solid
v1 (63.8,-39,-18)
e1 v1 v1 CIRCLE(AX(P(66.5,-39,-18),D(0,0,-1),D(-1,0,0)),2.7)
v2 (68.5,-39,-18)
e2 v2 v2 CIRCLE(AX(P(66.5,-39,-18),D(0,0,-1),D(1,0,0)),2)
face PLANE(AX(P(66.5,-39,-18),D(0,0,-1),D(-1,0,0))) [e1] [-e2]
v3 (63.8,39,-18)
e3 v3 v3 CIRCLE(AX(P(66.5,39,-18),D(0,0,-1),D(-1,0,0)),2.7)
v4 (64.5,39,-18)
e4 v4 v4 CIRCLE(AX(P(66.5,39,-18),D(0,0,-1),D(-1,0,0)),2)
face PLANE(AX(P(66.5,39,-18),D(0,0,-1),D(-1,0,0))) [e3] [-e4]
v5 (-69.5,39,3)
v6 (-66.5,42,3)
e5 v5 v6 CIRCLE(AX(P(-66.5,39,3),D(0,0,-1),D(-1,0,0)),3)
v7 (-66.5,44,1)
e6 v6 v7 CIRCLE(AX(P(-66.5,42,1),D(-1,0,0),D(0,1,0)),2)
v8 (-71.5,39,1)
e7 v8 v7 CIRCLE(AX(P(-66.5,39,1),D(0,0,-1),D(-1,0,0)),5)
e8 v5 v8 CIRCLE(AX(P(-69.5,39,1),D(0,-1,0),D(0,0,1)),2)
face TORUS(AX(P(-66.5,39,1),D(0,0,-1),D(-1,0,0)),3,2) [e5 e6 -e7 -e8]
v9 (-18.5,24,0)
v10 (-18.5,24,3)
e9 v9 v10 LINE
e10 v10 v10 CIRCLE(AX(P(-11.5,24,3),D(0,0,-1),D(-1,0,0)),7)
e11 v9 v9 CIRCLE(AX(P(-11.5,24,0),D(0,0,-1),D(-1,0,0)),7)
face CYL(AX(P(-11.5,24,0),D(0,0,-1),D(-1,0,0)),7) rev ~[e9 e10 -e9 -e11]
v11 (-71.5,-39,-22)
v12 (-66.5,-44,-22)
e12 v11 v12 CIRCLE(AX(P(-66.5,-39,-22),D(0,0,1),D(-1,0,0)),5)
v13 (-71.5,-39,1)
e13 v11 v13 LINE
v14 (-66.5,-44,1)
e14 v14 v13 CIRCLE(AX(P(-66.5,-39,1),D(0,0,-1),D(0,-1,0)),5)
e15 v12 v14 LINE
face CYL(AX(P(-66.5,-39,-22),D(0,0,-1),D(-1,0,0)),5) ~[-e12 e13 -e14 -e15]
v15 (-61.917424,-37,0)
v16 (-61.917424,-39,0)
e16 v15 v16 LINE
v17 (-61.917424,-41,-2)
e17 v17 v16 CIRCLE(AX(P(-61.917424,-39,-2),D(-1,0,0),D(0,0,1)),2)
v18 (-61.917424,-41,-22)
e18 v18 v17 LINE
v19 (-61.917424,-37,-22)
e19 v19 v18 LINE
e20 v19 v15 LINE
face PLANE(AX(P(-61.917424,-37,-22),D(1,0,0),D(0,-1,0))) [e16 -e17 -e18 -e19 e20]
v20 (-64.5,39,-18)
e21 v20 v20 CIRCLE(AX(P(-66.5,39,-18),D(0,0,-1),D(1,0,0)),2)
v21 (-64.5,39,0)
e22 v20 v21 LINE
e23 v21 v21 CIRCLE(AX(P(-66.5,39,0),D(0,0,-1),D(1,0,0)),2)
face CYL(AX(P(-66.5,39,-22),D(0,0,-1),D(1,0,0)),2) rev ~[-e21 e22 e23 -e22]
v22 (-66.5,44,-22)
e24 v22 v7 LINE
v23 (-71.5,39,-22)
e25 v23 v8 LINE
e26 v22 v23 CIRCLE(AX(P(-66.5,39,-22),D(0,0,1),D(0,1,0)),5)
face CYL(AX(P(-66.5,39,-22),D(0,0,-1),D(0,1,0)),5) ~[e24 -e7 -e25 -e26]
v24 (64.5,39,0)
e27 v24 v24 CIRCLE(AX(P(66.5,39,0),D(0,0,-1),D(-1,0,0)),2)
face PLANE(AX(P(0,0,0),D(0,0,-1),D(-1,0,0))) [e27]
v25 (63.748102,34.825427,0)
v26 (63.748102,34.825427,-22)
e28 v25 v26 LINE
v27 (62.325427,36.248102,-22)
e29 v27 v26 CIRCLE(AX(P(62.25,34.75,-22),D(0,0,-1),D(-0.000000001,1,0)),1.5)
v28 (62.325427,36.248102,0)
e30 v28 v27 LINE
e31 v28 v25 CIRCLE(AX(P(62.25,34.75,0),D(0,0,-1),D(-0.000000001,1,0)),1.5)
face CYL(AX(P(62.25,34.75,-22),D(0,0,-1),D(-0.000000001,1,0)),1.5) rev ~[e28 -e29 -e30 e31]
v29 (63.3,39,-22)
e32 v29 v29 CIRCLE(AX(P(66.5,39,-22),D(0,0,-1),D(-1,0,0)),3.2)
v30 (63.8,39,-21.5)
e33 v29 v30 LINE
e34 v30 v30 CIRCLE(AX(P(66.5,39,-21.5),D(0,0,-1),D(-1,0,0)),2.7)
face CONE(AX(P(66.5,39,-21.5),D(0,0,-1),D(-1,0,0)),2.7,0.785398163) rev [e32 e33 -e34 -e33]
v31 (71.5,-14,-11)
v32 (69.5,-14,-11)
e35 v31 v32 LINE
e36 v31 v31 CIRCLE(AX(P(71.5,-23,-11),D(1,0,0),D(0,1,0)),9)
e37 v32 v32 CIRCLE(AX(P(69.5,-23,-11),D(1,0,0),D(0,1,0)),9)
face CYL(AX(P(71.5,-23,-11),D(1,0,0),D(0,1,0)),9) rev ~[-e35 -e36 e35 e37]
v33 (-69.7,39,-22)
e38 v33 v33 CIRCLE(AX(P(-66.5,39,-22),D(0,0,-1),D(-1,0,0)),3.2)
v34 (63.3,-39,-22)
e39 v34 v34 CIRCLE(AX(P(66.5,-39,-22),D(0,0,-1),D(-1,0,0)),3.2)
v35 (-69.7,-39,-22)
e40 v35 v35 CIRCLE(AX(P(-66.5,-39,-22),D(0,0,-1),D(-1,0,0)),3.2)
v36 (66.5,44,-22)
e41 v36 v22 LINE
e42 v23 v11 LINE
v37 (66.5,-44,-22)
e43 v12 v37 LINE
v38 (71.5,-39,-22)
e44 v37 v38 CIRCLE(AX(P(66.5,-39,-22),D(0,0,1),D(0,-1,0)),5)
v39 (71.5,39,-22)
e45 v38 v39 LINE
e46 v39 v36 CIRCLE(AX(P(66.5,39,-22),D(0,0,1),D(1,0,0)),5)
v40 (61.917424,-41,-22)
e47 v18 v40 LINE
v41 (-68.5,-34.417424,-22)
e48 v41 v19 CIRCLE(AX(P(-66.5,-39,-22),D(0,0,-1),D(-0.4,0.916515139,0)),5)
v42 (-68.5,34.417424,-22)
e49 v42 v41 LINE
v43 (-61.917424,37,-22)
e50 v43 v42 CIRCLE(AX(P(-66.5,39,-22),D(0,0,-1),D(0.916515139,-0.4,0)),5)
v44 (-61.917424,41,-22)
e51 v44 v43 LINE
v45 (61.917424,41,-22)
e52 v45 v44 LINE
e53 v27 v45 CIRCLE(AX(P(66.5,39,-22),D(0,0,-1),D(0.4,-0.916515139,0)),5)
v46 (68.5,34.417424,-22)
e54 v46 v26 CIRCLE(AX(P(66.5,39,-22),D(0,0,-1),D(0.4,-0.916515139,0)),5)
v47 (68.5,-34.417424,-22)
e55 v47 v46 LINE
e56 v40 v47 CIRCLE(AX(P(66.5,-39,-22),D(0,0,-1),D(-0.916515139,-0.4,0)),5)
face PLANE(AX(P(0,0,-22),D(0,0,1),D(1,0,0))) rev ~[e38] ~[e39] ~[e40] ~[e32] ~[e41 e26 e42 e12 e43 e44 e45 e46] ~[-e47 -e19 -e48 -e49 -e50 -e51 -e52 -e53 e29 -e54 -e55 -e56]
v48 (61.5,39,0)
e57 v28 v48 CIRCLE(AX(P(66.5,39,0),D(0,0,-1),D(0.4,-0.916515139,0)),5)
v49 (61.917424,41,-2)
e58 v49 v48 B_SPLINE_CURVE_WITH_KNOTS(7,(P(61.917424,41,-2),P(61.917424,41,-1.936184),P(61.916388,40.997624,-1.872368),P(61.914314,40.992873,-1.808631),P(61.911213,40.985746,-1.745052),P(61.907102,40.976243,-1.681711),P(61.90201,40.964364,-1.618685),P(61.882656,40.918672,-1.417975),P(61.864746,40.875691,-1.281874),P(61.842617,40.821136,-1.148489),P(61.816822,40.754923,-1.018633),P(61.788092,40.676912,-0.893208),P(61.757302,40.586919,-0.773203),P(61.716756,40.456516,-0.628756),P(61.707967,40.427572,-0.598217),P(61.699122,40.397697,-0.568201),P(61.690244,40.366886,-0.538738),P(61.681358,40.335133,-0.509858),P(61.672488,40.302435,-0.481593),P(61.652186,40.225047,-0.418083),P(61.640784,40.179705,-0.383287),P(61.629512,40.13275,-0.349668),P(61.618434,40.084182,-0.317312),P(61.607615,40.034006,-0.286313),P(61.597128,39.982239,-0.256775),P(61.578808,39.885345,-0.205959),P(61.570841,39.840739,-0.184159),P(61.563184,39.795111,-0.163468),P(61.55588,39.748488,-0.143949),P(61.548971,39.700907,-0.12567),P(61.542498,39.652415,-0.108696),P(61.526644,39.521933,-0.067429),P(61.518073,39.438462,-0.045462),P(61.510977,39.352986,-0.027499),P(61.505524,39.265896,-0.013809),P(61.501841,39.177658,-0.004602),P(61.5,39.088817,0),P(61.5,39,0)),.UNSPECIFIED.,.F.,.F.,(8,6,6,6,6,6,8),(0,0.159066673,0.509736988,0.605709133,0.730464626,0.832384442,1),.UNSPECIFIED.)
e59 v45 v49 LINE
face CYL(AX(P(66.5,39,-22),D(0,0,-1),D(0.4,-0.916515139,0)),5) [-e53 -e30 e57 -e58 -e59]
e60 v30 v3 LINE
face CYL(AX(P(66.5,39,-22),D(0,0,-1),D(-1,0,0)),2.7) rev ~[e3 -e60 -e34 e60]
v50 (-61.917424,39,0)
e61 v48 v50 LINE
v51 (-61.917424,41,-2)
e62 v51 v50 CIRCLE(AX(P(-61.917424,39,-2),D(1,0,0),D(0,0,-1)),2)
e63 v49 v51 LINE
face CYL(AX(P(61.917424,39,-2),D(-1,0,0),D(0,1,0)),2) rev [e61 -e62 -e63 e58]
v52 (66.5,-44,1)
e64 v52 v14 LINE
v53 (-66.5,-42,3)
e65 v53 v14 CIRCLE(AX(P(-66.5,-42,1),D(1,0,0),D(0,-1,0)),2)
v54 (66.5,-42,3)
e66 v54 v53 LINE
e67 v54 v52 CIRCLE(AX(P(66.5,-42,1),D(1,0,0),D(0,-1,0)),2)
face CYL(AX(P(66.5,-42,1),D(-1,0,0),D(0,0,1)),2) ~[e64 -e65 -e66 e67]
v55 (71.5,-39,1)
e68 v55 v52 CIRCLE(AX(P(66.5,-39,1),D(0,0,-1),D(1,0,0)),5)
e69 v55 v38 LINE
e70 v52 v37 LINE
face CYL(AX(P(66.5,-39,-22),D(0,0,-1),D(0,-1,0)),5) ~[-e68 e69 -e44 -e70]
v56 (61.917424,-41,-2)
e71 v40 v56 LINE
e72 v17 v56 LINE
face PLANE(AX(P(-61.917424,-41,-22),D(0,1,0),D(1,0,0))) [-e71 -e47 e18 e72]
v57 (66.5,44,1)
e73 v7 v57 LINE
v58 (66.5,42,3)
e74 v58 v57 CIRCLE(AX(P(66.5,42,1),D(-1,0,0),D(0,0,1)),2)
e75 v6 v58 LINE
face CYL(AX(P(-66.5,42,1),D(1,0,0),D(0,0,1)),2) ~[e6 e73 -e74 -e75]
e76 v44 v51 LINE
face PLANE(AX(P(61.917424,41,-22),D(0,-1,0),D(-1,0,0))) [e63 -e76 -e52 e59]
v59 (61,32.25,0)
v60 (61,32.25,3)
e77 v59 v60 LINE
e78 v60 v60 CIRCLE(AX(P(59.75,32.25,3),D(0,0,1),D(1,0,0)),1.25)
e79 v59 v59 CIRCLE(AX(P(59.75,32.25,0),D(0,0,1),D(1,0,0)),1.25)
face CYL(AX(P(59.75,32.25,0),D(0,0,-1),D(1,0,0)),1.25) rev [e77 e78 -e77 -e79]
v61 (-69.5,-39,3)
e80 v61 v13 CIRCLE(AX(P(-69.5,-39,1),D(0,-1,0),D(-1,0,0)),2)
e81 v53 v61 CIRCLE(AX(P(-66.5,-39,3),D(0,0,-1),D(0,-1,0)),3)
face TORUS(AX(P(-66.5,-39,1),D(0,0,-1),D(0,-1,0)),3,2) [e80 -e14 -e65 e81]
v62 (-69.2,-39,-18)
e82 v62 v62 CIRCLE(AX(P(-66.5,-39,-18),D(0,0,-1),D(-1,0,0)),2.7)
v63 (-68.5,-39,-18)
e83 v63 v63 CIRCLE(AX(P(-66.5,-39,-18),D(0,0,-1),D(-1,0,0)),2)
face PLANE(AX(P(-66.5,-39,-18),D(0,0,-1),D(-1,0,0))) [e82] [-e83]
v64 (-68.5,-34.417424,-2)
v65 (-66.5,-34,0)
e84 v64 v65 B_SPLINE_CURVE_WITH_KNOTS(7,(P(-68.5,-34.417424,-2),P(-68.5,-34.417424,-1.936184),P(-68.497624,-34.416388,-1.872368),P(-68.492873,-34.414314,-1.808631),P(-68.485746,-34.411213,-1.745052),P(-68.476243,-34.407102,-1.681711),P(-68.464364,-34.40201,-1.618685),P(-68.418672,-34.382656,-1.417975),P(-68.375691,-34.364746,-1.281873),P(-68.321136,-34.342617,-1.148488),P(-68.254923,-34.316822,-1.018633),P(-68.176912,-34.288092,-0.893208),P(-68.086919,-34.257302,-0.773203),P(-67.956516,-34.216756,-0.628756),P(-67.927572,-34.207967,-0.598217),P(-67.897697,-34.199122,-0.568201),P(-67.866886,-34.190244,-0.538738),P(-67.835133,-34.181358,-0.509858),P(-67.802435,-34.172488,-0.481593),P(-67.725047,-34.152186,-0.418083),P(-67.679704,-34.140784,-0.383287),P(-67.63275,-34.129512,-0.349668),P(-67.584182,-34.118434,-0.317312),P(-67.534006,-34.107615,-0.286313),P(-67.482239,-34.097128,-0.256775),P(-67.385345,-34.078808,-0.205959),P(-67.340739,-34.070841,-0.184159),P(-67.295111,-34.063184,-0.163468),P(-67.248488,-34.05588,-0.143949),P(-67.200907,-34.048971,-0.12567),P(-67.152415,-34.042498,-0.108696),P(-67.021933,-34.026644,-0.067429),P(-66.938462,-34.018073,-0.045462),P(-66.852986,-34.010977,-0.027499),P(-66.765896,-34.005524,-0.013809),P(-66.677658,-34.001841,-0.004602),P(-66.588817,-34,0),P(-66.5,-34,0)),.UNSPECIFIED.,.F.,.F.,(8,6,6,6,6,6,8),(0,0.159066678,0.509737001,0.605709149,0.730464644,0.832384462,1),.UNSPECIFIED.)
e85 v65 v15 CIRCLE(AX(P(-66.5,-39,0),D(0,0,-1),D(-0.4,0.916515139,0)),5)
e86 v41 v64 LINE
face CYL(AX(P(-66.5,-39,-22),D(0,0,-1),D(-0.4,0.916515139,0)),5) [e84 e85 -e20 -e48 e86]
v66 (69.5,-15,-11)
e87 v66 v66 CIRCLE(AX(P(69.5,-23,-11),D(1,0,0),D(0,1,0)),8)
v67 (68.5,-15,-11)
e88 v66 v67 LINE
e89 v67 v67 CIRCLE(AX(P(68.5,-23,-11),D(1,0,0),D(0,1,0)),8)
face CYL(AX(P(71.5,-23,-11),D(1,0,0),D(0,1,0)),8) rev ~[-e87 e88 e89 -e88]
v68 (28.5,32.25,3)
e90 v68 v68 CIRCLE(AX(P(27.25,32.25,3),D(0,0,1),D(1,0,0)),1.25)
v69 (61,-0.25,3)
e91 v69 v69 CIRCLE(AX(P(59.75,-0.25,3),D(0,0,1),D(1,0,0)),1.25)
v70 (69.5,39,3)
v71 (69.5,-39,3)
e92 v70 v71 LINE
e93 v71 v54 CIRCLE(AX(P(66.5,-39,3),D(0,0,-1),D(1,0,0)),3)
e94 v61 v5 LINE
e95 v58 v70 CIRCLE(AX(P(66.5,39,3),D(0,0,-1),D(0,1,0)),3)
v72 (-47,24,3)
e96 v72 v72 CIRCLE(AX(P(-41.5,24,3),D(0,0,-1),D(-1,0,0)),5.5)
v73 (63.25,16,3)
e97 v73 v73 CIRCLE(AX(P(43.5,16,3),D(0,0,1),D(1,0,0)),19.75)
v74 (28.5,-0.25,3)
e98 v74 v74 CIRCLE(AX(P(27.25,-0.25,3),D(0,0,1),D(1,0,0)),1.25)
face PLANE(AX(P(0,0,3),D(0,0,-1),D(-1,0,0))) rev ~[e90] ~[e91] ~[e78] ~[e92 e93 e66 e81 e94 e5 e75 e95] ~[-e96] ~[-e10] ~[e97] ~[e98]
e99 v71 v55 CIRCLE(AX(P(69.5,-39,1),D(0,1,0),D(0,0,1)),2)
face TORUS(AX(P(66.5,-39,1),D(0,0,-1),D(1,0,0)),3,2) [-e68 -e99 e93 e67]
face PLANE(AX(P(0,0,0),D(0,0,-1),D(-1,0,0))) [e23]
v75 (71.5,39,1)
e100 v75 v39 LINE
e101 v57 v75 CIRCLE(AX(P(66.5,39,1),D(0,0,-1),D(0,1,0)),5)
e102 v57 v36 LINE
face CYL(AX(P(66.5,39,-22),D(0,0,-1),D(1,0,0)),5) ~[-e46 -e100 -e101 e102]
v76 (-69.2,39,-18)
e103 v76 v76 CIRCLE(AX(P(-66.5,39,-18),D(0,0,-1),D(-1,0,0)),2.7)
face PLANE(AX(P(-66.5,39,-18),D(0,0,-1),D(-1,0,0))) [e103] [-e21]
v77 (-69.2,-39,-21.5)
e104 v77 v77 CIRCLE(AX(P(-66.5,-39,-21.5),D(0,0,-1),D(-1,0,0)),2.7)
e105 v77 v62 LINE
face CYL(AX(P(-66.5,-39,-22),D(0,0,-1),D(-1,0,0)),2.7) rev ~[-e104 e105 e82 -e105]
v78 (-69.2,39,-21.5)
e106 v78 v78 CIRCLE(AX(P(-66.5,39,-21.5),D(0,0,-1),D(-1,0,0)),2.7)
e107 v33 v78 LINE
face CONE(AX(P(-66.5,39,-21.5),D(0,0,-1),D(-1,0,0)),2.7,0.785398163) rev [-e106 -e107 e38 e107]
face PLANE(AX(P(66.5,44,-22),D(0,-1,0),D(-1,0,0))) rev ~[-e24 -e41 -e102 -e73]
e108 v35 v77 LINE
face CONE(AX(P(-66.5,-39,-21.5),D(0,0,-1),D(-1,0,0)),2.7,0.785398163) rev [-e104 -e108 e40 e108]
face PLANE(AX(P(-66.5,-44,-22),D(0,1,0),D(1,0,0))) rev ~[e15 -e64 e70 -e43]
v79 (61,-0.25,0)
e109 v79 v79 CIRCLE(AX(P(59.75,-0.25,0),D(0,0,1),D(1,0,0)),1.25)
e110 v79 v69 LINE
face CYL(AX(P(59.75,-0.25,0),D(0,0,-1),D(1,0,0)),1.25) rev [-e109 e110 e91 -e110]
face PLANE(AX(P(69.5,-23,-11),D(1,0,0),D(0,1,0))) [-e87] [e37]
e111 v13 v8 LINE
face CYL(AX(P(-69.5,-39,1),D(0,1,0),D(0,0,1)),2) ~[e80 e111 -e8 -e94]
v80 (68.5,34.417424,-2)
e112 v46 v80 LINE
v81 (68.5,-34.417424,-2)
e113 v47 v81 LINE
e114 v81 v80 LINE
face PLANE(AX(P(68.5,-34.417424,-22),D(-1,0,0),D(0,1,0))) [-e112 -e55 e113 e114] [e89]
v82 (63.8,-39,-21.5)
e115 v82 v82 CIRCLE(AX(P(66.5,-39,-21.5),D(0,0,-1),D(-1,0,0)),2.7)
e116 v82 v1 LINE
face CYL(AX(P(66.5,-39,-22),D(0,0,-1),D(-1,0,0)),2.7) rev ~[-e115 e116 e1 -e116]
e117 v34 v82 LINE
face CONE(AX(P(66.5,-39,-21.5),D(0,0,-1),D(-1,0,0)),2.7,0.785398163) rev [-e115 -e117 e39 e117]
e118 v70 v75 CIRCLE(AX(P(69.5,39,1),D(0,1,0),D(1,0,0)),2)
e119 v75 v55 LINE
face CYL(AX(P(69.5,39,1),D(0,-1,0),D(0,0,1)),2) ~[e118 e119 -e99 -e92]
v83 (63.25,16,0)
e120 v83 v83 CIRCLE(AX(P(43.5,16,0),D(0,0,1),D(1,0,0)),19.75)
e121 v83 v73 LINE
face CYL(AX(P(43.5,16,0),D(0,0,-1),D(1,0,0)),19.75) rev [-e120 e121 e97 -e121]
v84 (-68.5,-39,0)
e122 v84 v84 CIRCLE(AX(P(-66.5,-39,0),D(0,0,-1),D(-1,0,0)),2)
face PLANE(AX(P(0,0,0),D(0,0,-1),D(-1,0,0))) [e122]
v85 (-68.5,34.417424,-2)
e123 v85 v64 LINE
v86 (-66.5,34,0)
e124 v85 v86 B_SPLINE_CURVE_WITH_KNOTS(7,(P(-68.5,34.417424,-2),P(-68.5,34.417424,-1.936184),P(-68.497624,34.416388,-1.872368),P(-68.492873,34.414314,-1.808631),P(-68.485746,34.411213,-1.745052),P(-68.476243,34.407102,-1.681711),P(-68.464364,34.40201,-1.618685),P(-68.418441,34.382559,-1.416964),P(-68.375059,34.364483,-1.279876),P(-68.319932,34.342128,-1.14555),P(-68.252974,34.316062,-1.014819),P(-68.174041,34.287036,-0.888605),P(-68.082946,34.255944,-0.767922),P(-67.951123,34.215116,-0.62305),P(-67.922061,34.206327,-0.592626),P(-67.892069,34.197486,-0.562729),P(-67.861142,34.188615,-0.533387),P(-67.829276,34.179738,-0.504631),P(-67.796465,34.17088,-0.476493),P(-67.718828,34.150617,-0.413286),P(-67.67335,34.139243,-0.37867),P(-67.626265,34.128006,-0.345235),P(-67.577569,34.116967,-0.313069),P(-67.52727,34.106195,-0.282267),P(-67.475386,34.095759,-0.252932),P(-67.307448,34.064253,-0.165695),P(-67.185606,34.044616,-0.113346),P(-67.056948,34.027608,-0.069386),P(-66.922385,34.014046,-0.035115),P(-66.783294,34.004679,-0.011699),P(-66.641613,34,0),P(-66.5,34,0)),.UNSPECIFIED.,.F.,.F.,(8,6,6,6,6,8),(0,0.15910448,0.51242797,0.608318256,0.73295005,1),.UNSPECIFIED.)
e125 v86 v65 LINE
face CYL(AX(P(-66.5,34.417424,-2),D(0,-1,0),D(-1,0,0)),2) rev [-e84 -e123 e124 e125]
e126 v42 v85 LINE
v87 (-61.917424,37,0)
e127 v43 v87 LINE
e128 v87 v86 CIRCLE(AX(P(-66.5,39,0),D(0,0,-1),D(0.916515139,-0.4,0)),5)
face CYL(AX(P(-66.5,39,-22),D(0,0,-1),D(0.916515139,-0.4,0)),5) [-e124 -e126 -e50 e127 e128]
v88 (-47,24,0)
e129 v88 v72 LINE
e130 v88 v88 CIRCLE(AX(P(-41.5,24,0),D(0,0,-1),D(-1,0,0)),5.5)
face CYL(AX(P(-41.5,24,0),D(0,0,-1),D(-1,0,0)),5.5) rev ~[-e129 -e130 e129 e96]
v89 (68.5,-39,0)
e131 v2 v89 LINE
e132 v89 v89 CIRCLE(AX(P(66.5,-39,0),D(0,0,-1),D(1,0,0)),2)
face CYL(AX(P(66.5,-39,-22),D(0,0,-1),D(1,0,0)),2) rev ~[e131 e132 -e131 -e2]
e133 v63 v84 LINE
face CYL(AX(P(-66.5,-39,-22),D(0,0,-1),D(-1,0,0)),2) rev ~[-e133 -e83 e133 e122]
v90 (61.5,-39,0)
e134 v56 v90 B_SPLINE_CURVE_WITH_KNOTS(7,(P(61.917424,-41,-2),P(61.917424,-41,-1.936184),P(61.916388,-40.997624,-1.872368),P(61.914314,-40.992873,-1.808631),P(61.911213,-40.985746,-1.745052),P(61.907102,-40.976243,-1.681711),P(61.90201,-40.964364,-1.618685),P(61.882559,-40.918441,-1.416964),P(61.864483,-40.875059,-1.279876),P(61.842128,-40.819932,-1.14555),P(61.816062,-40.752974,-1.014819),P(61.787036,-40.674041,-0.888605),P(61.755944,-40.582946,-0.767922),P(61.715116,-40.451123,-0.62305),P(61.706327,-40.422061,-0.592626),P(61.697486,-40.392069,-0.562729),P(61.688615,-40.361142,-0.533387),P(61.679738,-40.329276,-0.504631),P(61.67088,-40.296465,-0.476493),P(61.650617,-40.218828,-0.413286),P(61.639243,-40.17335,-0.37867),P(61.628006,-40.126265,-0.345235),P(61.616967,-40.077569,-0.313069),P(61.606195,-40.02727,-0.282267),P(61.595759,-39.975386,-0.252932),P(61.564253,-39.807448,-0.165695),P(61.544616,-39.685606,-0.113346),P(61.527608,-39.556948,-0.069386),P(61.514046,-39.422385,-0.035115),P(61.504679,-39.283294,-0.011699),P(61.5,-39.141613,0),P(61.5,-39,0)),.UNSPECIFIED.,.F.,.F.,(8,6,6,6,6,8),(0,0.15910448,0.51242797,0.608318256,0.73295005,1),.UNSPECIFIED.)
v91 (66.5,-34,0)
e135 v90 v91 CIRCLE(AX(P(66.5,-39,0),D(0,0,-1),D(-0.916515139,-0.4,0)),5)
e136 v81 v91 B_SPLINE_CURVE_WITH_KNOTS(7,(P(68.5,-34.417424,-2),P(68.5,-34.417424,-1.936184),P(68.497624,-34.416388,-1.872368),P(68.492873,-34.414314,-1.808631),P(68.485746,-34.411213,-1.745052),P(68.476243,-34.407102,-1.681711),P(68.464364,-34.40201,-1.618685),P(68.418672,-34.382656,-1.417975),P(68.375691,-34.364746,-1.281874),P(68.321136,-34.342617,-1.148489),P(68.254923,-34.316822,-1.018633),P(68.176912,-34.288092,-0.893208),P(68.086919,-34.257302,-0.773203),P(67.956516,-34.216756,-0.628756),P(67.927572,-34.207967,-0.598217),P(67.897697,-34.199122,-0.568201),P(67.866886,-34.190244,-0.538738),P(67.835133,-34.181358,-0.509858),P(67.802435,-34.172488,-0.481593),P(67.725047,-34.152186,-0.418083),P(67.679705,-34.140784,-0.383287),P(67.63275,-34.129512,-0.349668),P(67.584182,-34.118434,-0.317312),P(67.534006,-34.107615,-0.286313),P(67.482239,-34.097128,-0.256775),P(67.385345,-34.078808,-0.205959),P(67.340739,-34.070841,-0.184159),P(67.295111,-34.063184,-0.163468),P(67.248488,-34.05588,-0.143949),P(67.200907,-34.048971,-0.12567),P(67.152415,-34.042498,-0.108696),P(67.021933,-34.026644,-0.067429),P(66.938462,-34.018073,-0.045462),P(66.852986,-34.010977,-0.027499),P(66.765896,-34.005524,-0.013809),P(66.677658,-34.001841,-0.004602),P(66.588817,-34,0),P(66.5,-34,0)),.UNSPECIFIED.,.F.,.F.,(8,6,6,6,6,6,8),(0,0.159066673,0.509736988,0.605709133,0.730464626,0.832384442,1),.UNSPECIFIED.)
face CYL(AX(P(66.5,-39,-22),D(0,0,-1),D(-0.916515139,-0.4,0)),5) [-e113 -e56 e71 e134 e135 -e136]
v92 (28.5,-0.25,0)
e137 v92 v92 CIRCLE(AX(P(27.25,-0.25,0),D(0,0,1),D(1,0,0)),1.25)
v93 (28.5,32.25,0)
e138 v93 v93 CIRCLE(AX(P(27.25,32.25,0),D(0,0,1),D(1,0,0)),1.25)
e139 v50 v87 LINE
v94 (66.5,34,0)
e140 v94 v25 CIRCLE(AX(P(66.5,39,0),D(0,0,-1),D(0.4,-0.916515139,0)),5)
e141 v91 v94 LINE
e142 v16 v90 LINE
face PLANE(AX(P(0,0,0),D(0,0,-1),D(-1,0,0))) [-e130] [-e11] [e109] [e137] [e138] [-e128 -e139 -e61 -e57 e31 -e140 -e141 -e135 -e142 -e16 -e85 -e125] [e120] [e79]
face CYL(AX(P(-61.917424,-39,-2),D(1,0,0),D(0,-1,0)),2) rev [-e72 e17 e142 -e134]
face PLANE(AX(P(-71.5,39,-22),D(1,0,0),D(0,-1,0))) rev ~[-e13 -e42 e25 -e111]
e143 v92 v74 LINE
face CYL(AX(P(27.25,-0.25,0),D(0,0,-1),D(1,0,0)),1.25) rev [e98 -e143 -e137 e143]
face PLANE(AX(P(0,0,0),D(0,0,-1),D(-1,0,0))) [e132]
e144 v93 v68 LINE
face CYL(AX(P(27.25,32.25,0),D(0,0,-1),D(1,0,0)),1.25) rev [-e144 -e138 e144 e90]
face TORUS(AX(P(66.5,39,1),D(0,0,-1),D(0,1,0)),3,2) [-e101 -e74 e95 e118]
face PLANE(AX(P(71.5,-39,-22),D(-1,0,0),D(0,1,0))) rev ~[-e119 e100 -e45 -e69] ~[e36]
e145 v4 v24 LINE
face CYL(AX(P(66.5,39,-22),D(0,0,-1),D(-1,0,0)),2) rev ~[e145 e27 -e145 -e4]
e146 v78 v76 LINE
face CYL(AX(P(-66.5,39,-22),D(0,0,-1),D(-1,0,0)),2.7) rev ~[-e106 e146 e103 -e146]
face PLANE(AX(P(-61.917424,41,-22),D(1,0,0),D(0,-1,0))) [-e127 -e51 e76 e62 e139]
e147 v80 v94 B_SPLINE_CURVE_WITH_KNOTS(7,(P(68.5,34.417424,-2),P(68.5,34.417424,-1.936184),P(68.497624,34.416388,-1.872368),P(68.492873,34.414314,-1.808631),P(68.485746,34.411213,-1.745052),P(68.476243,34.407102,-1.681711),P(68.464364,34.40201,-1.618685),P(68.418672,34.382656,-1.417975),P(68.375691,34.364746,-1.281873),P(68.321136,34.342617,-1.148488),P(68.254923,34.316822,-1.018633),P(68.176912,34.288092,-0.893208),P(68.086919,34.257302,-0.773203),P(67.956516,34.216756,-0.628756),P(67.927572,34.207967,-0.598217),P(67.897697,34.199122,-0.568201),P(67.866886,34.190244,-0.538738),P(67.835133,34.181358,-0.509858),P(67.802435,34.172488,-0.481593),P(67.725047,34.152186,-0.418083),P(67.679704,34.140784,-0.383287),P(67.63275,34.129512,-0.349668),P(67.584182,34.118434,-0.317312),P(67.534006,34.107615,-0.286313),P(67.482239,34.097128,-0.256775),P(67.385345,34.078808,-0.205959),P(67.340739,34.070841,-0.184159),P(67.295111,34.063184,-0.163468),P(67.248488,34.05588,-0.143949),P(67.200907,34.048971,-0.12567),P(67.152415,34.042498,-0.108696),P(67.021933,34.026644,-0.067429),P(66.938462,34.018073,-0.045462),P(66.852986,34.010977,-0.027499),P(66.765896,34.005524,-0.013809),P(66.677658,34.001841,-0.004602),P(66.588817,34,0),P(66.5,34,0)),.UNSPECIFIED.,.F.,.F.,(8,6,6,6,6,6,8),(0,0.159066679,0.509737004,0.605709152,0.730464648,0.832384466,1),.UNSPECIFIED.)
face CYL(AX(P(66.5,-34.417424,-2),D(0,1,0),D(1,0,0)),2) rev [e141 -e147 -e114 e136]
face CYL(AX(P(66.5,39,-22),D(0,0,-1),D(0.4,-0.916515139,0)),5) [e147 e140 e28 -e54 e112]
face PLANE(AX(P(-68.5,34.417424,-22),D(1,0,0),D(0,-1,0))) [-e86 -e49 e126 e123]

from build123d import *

# Parameters (mm, degrees)
SKETCH1_R           = 19.75
SKETCH1_R_2         = 1.25
BOSS_EXTRUDE1_DEPTH = 3
BOSS_EXTRUDE2_START = 22
SKETCH2_R           = 2
BOSS_EXTRUDE2_DEPTH = 22
SKETCH5_R           = 8
CUT_EXTRUDE1_DEPTH  = 3
SKETCH6_R           = 9
CUT_EXTRUDE2_DEPTH  = 2
FILLET2_R           = 2
SKETCH10_R          = 2.7
CUT_EXTRUDE4_DEPTH  = 4
CHAMFER1_SIZE       = 0.5
CUT_EXTRUDE5_DEPTH  = 22
SKETCH14_R          = 5.5
SKETCH14_R_2        = 7
CUT_EXTRUDE6_DEPTH  = 87.788536135


with BuildPart() as part:
    # Sketch1 → Boss-Extrude1 (new body)
    with BuildSketch(Plane.XY):
        with BuildLine():
            Line((-66.5, 44), (66.5, 44))
            ThreePointArc((66.5, 44), (70.035533906, 42.535533906), (71.5, 39))
            Line((71.5, 39), (71.5, -39))
            ThreePointArc((71.5, -39), (70.035533906, -42.535533906), (66.5, -44))
            Line((66.5, -44), (-66.5, -44))
            ThreePointArc((-66.5, -44), (-70.035533906, -42.535533906), (-71.5, -39))
            Line((-71.5, -39), (-71.5, 39))
            ThreePointArc((-71.5, 39), (-70.035533906, 42.535533906), (-66.5, 44))
        make_face()
        with Locations((43.5, 16)):
            Circle(SKETCH1_R, mode=Mode.SUBTRACT)
        with Locations((27.25, 32.25)):
            Circle(SKETCH1_R_2, mode=Mode.SUBTRACT)
        with Locations((59.75, 32.25)):
            Circle(SKETCH1_R_2, mode=Mode.SUBTRACT)
        with Locations((59.75, -0.25)):
            Circle(SKETCH1_R_2, mode=Mode.SUBTRACT)
        with Locations((27.25, -0.25)):
            Circle(SKETCH1_R_2, mode=Mode.SUBTRACT)
    extrude(amount=BOSS_EXTRUDE1_DEPTH)

    # Sketch2 → Boss-Extrude2 (add)
    with BuildSketch(Plane(origin=(0, 0, 0), x_dir=(-1, 0, 0), z_dir=(0, 0, -1)).offset(BOSS_EXTRUDE2_START)):
        with BuildLine():
            Line((-66.5, 44), (66.5, 44))
            ThreePointArc((66.5, 44), (70.035533906, 42.535533906), (71.5, 39))
            Line((71.5, 39), (71.5, -39))
            ThreePointArc((71.5, -39), (70.035533906, -42.535533906), (66.5, -44))
            Line((66.5, -44), (-66.5, -44))
            ThreePointArc((-66.5, -44), (-70.035533906, -42.535533906), (-71.5, -39))
            Line((-71.5, -39), (-71.5, 39))
            ThreePointArc((-71.5, 39), (-70.035533906, 42.535533906), (-66.5, 44))
        make_face()
        with Locations((-66.5, 39)):
            Circle(SKETCH2_R, mode=Mode.SUBTRACT)
        with Locations(Location((66.5, 39, 0), (0, 0, 180))):
            Circle(SKETCH2_R, mode=Mode.SUBTRACT)
        with Locations((66.5, -39)):
            Circle(SKETCH2_R, mode=Mode.SUBTRACT)
        with Locations(Location((-66.5, -39, 0), (0, 0, 180))):
            Circle(SKETCH2_R, mode=Mode.SUBTRACT)
        with BuildLine():
            Line((-61.917424305, 41), (61.917424305, 41))
            Line((61.917424305, 41), (61.917424305, 37))
            ThreePointArc((61.917424305, 37), (64.673843213, 34.345416088), (68.5, 34.417424305))
            Line((68.5, 34.417424305), (68.5, -34.417424305))
            ThreePointArc((68.5, -34.417424305), (64.673843213, -34.345416088), (61.917424305, -37))
            Line((61.917424305, -37), (61.917424305, -41))
            Line((61.917424305, -41), (-61.917424305, -41))
            ThreePointArc((-61.917424305, -41), (-62.964466094, -35.464466094), (-68.5, -34.417424305))
            Line((-68.5, -34.417424305), (-68.5, 34.417424305))
            ThreePointArc((-68.5, 34.417424305), (-62.964466094, 35.464466094), (-61.917424305, 41))
        make_face(mode=Mode.SUBTRACT)
    extrude(amount=-BOSS_EXTRUDE2_DEPTH)

    # Sketch5 → Cut-Extrude1 (cut)
    with BuildSketch(Plane(origin=(71.5, 0, 0), x_dir=(0, 0, -1), z_dir=(1, 0, 0))):
        with Locations(Location((11, -23, 0), (0, 0, 90))):
            Circle(SKETCH5_R)
    extrude(amount=-CUT_EXTRUDE1_DEPTH, mode=Mode.SUBTRACT)

    # Sketch6 → Cut-Extrude2 (cut)
    with BuildSketch(Plane(origin=(71.5, 0, 0), x_dir=(0, 0, -1), z_dir=(1, 0, 0))):
        with Locations(Location((11, -23, 0), (0, 0, 90))):
            Circle(SKETCH6_R)
    extrude(amount=-CUT_EXTRUDE2_DEPTH, mode=Mode.SUBTRACT)

    # Fillet2
    fillet2_edges = [part.edges().sort_by_distance(p)[0] for p in [
        (-70.035533906, -42.535533906, 3),
        (0, -44, 3),
        (70.035533906, -42.535533906, 3),
        (71.5, 0, 3),
        (70.035533906, 42.535533906, 3),
        (0, 44, 3),
        (-70.035533906, 42.535533906, 3),
        (0, 41, 0),
        (68.5, 0, 0),
        (0, -41, 0),
        (-68.5, 0, 0),
        (-71.5, 0, 3),
    ]]
    fillet(fillet2_edges, radius=FILLET2_R)

    # Sketch10 → Cut-Extrude4 (cut)
    with BuildSketch(Plane(origin=(0, 0, -22), x_dir=(-1, 0, 0), z_dir=(0, 0, -1))):
        with Locations((-66.5, 39)):
            Circle(SKETCH10_R)
        with Locations((66.5, 39)):
            Circle(SKETCH10_R)
        with Locations((66.5, -39)):
            Circle(SKETCH10_R)
        with Locations((-66.5, -39)):
            Circle(SKETCH10_R)
    extrude(amount=-CUT_EXTRUDE4_DEPTH, mode=Mode.SUBTRACT)

    # Chamfer1
    chamfer1_edges = [part.edges().sort_by_distance(p)[0] for p in [
        (69.2, -39, -22),
        (-63.8, -39, -22),
        (-63.8, 39, -22),
        (69.2, 39, -22),
    ]]
    chamfer(chamfer1_edges, length=CHAMFER1_SIZE)

    # Sketch11 → Cut-Extrude5 (cut)
    with BuildSketch(Plane(origin=(0, 0, -22), x_dir=(-1, 0, 0), z_dir=(0, 0, -1))):
        with BuildLine():
            Line((-63.75, 34.75), (-62.25, 34.75))
            Line((-62.25, 34.75), (-62.25, 36.25))
            ThreePointArc((-62.25, 36.25), (-63.310660172, 35.810660172), (-63.75, 34.75))
        make_face()
    extrude(amount=-CUT_EXTRUDE5_DEPTH, mode=Mode.SUBTRACT)

    # Sketch14 → Cut-Extrude6 (cut, through all)
    with BuildSketch(Plane(origin=(0, 0, 0), x_dir=(-1, 0, 0), z_dir=(0, 0, -1))):
        with Locations((41.5, 24)):
            Circle(SKETCH14_R)
        with Locations((11.5, 24)):
            Circle(SKETCH14_R_2)
    extrude(amount=-CUT_EXTRUDE6_DEPTH, mode=Mode.SUBTRACT)


solid = part.part
